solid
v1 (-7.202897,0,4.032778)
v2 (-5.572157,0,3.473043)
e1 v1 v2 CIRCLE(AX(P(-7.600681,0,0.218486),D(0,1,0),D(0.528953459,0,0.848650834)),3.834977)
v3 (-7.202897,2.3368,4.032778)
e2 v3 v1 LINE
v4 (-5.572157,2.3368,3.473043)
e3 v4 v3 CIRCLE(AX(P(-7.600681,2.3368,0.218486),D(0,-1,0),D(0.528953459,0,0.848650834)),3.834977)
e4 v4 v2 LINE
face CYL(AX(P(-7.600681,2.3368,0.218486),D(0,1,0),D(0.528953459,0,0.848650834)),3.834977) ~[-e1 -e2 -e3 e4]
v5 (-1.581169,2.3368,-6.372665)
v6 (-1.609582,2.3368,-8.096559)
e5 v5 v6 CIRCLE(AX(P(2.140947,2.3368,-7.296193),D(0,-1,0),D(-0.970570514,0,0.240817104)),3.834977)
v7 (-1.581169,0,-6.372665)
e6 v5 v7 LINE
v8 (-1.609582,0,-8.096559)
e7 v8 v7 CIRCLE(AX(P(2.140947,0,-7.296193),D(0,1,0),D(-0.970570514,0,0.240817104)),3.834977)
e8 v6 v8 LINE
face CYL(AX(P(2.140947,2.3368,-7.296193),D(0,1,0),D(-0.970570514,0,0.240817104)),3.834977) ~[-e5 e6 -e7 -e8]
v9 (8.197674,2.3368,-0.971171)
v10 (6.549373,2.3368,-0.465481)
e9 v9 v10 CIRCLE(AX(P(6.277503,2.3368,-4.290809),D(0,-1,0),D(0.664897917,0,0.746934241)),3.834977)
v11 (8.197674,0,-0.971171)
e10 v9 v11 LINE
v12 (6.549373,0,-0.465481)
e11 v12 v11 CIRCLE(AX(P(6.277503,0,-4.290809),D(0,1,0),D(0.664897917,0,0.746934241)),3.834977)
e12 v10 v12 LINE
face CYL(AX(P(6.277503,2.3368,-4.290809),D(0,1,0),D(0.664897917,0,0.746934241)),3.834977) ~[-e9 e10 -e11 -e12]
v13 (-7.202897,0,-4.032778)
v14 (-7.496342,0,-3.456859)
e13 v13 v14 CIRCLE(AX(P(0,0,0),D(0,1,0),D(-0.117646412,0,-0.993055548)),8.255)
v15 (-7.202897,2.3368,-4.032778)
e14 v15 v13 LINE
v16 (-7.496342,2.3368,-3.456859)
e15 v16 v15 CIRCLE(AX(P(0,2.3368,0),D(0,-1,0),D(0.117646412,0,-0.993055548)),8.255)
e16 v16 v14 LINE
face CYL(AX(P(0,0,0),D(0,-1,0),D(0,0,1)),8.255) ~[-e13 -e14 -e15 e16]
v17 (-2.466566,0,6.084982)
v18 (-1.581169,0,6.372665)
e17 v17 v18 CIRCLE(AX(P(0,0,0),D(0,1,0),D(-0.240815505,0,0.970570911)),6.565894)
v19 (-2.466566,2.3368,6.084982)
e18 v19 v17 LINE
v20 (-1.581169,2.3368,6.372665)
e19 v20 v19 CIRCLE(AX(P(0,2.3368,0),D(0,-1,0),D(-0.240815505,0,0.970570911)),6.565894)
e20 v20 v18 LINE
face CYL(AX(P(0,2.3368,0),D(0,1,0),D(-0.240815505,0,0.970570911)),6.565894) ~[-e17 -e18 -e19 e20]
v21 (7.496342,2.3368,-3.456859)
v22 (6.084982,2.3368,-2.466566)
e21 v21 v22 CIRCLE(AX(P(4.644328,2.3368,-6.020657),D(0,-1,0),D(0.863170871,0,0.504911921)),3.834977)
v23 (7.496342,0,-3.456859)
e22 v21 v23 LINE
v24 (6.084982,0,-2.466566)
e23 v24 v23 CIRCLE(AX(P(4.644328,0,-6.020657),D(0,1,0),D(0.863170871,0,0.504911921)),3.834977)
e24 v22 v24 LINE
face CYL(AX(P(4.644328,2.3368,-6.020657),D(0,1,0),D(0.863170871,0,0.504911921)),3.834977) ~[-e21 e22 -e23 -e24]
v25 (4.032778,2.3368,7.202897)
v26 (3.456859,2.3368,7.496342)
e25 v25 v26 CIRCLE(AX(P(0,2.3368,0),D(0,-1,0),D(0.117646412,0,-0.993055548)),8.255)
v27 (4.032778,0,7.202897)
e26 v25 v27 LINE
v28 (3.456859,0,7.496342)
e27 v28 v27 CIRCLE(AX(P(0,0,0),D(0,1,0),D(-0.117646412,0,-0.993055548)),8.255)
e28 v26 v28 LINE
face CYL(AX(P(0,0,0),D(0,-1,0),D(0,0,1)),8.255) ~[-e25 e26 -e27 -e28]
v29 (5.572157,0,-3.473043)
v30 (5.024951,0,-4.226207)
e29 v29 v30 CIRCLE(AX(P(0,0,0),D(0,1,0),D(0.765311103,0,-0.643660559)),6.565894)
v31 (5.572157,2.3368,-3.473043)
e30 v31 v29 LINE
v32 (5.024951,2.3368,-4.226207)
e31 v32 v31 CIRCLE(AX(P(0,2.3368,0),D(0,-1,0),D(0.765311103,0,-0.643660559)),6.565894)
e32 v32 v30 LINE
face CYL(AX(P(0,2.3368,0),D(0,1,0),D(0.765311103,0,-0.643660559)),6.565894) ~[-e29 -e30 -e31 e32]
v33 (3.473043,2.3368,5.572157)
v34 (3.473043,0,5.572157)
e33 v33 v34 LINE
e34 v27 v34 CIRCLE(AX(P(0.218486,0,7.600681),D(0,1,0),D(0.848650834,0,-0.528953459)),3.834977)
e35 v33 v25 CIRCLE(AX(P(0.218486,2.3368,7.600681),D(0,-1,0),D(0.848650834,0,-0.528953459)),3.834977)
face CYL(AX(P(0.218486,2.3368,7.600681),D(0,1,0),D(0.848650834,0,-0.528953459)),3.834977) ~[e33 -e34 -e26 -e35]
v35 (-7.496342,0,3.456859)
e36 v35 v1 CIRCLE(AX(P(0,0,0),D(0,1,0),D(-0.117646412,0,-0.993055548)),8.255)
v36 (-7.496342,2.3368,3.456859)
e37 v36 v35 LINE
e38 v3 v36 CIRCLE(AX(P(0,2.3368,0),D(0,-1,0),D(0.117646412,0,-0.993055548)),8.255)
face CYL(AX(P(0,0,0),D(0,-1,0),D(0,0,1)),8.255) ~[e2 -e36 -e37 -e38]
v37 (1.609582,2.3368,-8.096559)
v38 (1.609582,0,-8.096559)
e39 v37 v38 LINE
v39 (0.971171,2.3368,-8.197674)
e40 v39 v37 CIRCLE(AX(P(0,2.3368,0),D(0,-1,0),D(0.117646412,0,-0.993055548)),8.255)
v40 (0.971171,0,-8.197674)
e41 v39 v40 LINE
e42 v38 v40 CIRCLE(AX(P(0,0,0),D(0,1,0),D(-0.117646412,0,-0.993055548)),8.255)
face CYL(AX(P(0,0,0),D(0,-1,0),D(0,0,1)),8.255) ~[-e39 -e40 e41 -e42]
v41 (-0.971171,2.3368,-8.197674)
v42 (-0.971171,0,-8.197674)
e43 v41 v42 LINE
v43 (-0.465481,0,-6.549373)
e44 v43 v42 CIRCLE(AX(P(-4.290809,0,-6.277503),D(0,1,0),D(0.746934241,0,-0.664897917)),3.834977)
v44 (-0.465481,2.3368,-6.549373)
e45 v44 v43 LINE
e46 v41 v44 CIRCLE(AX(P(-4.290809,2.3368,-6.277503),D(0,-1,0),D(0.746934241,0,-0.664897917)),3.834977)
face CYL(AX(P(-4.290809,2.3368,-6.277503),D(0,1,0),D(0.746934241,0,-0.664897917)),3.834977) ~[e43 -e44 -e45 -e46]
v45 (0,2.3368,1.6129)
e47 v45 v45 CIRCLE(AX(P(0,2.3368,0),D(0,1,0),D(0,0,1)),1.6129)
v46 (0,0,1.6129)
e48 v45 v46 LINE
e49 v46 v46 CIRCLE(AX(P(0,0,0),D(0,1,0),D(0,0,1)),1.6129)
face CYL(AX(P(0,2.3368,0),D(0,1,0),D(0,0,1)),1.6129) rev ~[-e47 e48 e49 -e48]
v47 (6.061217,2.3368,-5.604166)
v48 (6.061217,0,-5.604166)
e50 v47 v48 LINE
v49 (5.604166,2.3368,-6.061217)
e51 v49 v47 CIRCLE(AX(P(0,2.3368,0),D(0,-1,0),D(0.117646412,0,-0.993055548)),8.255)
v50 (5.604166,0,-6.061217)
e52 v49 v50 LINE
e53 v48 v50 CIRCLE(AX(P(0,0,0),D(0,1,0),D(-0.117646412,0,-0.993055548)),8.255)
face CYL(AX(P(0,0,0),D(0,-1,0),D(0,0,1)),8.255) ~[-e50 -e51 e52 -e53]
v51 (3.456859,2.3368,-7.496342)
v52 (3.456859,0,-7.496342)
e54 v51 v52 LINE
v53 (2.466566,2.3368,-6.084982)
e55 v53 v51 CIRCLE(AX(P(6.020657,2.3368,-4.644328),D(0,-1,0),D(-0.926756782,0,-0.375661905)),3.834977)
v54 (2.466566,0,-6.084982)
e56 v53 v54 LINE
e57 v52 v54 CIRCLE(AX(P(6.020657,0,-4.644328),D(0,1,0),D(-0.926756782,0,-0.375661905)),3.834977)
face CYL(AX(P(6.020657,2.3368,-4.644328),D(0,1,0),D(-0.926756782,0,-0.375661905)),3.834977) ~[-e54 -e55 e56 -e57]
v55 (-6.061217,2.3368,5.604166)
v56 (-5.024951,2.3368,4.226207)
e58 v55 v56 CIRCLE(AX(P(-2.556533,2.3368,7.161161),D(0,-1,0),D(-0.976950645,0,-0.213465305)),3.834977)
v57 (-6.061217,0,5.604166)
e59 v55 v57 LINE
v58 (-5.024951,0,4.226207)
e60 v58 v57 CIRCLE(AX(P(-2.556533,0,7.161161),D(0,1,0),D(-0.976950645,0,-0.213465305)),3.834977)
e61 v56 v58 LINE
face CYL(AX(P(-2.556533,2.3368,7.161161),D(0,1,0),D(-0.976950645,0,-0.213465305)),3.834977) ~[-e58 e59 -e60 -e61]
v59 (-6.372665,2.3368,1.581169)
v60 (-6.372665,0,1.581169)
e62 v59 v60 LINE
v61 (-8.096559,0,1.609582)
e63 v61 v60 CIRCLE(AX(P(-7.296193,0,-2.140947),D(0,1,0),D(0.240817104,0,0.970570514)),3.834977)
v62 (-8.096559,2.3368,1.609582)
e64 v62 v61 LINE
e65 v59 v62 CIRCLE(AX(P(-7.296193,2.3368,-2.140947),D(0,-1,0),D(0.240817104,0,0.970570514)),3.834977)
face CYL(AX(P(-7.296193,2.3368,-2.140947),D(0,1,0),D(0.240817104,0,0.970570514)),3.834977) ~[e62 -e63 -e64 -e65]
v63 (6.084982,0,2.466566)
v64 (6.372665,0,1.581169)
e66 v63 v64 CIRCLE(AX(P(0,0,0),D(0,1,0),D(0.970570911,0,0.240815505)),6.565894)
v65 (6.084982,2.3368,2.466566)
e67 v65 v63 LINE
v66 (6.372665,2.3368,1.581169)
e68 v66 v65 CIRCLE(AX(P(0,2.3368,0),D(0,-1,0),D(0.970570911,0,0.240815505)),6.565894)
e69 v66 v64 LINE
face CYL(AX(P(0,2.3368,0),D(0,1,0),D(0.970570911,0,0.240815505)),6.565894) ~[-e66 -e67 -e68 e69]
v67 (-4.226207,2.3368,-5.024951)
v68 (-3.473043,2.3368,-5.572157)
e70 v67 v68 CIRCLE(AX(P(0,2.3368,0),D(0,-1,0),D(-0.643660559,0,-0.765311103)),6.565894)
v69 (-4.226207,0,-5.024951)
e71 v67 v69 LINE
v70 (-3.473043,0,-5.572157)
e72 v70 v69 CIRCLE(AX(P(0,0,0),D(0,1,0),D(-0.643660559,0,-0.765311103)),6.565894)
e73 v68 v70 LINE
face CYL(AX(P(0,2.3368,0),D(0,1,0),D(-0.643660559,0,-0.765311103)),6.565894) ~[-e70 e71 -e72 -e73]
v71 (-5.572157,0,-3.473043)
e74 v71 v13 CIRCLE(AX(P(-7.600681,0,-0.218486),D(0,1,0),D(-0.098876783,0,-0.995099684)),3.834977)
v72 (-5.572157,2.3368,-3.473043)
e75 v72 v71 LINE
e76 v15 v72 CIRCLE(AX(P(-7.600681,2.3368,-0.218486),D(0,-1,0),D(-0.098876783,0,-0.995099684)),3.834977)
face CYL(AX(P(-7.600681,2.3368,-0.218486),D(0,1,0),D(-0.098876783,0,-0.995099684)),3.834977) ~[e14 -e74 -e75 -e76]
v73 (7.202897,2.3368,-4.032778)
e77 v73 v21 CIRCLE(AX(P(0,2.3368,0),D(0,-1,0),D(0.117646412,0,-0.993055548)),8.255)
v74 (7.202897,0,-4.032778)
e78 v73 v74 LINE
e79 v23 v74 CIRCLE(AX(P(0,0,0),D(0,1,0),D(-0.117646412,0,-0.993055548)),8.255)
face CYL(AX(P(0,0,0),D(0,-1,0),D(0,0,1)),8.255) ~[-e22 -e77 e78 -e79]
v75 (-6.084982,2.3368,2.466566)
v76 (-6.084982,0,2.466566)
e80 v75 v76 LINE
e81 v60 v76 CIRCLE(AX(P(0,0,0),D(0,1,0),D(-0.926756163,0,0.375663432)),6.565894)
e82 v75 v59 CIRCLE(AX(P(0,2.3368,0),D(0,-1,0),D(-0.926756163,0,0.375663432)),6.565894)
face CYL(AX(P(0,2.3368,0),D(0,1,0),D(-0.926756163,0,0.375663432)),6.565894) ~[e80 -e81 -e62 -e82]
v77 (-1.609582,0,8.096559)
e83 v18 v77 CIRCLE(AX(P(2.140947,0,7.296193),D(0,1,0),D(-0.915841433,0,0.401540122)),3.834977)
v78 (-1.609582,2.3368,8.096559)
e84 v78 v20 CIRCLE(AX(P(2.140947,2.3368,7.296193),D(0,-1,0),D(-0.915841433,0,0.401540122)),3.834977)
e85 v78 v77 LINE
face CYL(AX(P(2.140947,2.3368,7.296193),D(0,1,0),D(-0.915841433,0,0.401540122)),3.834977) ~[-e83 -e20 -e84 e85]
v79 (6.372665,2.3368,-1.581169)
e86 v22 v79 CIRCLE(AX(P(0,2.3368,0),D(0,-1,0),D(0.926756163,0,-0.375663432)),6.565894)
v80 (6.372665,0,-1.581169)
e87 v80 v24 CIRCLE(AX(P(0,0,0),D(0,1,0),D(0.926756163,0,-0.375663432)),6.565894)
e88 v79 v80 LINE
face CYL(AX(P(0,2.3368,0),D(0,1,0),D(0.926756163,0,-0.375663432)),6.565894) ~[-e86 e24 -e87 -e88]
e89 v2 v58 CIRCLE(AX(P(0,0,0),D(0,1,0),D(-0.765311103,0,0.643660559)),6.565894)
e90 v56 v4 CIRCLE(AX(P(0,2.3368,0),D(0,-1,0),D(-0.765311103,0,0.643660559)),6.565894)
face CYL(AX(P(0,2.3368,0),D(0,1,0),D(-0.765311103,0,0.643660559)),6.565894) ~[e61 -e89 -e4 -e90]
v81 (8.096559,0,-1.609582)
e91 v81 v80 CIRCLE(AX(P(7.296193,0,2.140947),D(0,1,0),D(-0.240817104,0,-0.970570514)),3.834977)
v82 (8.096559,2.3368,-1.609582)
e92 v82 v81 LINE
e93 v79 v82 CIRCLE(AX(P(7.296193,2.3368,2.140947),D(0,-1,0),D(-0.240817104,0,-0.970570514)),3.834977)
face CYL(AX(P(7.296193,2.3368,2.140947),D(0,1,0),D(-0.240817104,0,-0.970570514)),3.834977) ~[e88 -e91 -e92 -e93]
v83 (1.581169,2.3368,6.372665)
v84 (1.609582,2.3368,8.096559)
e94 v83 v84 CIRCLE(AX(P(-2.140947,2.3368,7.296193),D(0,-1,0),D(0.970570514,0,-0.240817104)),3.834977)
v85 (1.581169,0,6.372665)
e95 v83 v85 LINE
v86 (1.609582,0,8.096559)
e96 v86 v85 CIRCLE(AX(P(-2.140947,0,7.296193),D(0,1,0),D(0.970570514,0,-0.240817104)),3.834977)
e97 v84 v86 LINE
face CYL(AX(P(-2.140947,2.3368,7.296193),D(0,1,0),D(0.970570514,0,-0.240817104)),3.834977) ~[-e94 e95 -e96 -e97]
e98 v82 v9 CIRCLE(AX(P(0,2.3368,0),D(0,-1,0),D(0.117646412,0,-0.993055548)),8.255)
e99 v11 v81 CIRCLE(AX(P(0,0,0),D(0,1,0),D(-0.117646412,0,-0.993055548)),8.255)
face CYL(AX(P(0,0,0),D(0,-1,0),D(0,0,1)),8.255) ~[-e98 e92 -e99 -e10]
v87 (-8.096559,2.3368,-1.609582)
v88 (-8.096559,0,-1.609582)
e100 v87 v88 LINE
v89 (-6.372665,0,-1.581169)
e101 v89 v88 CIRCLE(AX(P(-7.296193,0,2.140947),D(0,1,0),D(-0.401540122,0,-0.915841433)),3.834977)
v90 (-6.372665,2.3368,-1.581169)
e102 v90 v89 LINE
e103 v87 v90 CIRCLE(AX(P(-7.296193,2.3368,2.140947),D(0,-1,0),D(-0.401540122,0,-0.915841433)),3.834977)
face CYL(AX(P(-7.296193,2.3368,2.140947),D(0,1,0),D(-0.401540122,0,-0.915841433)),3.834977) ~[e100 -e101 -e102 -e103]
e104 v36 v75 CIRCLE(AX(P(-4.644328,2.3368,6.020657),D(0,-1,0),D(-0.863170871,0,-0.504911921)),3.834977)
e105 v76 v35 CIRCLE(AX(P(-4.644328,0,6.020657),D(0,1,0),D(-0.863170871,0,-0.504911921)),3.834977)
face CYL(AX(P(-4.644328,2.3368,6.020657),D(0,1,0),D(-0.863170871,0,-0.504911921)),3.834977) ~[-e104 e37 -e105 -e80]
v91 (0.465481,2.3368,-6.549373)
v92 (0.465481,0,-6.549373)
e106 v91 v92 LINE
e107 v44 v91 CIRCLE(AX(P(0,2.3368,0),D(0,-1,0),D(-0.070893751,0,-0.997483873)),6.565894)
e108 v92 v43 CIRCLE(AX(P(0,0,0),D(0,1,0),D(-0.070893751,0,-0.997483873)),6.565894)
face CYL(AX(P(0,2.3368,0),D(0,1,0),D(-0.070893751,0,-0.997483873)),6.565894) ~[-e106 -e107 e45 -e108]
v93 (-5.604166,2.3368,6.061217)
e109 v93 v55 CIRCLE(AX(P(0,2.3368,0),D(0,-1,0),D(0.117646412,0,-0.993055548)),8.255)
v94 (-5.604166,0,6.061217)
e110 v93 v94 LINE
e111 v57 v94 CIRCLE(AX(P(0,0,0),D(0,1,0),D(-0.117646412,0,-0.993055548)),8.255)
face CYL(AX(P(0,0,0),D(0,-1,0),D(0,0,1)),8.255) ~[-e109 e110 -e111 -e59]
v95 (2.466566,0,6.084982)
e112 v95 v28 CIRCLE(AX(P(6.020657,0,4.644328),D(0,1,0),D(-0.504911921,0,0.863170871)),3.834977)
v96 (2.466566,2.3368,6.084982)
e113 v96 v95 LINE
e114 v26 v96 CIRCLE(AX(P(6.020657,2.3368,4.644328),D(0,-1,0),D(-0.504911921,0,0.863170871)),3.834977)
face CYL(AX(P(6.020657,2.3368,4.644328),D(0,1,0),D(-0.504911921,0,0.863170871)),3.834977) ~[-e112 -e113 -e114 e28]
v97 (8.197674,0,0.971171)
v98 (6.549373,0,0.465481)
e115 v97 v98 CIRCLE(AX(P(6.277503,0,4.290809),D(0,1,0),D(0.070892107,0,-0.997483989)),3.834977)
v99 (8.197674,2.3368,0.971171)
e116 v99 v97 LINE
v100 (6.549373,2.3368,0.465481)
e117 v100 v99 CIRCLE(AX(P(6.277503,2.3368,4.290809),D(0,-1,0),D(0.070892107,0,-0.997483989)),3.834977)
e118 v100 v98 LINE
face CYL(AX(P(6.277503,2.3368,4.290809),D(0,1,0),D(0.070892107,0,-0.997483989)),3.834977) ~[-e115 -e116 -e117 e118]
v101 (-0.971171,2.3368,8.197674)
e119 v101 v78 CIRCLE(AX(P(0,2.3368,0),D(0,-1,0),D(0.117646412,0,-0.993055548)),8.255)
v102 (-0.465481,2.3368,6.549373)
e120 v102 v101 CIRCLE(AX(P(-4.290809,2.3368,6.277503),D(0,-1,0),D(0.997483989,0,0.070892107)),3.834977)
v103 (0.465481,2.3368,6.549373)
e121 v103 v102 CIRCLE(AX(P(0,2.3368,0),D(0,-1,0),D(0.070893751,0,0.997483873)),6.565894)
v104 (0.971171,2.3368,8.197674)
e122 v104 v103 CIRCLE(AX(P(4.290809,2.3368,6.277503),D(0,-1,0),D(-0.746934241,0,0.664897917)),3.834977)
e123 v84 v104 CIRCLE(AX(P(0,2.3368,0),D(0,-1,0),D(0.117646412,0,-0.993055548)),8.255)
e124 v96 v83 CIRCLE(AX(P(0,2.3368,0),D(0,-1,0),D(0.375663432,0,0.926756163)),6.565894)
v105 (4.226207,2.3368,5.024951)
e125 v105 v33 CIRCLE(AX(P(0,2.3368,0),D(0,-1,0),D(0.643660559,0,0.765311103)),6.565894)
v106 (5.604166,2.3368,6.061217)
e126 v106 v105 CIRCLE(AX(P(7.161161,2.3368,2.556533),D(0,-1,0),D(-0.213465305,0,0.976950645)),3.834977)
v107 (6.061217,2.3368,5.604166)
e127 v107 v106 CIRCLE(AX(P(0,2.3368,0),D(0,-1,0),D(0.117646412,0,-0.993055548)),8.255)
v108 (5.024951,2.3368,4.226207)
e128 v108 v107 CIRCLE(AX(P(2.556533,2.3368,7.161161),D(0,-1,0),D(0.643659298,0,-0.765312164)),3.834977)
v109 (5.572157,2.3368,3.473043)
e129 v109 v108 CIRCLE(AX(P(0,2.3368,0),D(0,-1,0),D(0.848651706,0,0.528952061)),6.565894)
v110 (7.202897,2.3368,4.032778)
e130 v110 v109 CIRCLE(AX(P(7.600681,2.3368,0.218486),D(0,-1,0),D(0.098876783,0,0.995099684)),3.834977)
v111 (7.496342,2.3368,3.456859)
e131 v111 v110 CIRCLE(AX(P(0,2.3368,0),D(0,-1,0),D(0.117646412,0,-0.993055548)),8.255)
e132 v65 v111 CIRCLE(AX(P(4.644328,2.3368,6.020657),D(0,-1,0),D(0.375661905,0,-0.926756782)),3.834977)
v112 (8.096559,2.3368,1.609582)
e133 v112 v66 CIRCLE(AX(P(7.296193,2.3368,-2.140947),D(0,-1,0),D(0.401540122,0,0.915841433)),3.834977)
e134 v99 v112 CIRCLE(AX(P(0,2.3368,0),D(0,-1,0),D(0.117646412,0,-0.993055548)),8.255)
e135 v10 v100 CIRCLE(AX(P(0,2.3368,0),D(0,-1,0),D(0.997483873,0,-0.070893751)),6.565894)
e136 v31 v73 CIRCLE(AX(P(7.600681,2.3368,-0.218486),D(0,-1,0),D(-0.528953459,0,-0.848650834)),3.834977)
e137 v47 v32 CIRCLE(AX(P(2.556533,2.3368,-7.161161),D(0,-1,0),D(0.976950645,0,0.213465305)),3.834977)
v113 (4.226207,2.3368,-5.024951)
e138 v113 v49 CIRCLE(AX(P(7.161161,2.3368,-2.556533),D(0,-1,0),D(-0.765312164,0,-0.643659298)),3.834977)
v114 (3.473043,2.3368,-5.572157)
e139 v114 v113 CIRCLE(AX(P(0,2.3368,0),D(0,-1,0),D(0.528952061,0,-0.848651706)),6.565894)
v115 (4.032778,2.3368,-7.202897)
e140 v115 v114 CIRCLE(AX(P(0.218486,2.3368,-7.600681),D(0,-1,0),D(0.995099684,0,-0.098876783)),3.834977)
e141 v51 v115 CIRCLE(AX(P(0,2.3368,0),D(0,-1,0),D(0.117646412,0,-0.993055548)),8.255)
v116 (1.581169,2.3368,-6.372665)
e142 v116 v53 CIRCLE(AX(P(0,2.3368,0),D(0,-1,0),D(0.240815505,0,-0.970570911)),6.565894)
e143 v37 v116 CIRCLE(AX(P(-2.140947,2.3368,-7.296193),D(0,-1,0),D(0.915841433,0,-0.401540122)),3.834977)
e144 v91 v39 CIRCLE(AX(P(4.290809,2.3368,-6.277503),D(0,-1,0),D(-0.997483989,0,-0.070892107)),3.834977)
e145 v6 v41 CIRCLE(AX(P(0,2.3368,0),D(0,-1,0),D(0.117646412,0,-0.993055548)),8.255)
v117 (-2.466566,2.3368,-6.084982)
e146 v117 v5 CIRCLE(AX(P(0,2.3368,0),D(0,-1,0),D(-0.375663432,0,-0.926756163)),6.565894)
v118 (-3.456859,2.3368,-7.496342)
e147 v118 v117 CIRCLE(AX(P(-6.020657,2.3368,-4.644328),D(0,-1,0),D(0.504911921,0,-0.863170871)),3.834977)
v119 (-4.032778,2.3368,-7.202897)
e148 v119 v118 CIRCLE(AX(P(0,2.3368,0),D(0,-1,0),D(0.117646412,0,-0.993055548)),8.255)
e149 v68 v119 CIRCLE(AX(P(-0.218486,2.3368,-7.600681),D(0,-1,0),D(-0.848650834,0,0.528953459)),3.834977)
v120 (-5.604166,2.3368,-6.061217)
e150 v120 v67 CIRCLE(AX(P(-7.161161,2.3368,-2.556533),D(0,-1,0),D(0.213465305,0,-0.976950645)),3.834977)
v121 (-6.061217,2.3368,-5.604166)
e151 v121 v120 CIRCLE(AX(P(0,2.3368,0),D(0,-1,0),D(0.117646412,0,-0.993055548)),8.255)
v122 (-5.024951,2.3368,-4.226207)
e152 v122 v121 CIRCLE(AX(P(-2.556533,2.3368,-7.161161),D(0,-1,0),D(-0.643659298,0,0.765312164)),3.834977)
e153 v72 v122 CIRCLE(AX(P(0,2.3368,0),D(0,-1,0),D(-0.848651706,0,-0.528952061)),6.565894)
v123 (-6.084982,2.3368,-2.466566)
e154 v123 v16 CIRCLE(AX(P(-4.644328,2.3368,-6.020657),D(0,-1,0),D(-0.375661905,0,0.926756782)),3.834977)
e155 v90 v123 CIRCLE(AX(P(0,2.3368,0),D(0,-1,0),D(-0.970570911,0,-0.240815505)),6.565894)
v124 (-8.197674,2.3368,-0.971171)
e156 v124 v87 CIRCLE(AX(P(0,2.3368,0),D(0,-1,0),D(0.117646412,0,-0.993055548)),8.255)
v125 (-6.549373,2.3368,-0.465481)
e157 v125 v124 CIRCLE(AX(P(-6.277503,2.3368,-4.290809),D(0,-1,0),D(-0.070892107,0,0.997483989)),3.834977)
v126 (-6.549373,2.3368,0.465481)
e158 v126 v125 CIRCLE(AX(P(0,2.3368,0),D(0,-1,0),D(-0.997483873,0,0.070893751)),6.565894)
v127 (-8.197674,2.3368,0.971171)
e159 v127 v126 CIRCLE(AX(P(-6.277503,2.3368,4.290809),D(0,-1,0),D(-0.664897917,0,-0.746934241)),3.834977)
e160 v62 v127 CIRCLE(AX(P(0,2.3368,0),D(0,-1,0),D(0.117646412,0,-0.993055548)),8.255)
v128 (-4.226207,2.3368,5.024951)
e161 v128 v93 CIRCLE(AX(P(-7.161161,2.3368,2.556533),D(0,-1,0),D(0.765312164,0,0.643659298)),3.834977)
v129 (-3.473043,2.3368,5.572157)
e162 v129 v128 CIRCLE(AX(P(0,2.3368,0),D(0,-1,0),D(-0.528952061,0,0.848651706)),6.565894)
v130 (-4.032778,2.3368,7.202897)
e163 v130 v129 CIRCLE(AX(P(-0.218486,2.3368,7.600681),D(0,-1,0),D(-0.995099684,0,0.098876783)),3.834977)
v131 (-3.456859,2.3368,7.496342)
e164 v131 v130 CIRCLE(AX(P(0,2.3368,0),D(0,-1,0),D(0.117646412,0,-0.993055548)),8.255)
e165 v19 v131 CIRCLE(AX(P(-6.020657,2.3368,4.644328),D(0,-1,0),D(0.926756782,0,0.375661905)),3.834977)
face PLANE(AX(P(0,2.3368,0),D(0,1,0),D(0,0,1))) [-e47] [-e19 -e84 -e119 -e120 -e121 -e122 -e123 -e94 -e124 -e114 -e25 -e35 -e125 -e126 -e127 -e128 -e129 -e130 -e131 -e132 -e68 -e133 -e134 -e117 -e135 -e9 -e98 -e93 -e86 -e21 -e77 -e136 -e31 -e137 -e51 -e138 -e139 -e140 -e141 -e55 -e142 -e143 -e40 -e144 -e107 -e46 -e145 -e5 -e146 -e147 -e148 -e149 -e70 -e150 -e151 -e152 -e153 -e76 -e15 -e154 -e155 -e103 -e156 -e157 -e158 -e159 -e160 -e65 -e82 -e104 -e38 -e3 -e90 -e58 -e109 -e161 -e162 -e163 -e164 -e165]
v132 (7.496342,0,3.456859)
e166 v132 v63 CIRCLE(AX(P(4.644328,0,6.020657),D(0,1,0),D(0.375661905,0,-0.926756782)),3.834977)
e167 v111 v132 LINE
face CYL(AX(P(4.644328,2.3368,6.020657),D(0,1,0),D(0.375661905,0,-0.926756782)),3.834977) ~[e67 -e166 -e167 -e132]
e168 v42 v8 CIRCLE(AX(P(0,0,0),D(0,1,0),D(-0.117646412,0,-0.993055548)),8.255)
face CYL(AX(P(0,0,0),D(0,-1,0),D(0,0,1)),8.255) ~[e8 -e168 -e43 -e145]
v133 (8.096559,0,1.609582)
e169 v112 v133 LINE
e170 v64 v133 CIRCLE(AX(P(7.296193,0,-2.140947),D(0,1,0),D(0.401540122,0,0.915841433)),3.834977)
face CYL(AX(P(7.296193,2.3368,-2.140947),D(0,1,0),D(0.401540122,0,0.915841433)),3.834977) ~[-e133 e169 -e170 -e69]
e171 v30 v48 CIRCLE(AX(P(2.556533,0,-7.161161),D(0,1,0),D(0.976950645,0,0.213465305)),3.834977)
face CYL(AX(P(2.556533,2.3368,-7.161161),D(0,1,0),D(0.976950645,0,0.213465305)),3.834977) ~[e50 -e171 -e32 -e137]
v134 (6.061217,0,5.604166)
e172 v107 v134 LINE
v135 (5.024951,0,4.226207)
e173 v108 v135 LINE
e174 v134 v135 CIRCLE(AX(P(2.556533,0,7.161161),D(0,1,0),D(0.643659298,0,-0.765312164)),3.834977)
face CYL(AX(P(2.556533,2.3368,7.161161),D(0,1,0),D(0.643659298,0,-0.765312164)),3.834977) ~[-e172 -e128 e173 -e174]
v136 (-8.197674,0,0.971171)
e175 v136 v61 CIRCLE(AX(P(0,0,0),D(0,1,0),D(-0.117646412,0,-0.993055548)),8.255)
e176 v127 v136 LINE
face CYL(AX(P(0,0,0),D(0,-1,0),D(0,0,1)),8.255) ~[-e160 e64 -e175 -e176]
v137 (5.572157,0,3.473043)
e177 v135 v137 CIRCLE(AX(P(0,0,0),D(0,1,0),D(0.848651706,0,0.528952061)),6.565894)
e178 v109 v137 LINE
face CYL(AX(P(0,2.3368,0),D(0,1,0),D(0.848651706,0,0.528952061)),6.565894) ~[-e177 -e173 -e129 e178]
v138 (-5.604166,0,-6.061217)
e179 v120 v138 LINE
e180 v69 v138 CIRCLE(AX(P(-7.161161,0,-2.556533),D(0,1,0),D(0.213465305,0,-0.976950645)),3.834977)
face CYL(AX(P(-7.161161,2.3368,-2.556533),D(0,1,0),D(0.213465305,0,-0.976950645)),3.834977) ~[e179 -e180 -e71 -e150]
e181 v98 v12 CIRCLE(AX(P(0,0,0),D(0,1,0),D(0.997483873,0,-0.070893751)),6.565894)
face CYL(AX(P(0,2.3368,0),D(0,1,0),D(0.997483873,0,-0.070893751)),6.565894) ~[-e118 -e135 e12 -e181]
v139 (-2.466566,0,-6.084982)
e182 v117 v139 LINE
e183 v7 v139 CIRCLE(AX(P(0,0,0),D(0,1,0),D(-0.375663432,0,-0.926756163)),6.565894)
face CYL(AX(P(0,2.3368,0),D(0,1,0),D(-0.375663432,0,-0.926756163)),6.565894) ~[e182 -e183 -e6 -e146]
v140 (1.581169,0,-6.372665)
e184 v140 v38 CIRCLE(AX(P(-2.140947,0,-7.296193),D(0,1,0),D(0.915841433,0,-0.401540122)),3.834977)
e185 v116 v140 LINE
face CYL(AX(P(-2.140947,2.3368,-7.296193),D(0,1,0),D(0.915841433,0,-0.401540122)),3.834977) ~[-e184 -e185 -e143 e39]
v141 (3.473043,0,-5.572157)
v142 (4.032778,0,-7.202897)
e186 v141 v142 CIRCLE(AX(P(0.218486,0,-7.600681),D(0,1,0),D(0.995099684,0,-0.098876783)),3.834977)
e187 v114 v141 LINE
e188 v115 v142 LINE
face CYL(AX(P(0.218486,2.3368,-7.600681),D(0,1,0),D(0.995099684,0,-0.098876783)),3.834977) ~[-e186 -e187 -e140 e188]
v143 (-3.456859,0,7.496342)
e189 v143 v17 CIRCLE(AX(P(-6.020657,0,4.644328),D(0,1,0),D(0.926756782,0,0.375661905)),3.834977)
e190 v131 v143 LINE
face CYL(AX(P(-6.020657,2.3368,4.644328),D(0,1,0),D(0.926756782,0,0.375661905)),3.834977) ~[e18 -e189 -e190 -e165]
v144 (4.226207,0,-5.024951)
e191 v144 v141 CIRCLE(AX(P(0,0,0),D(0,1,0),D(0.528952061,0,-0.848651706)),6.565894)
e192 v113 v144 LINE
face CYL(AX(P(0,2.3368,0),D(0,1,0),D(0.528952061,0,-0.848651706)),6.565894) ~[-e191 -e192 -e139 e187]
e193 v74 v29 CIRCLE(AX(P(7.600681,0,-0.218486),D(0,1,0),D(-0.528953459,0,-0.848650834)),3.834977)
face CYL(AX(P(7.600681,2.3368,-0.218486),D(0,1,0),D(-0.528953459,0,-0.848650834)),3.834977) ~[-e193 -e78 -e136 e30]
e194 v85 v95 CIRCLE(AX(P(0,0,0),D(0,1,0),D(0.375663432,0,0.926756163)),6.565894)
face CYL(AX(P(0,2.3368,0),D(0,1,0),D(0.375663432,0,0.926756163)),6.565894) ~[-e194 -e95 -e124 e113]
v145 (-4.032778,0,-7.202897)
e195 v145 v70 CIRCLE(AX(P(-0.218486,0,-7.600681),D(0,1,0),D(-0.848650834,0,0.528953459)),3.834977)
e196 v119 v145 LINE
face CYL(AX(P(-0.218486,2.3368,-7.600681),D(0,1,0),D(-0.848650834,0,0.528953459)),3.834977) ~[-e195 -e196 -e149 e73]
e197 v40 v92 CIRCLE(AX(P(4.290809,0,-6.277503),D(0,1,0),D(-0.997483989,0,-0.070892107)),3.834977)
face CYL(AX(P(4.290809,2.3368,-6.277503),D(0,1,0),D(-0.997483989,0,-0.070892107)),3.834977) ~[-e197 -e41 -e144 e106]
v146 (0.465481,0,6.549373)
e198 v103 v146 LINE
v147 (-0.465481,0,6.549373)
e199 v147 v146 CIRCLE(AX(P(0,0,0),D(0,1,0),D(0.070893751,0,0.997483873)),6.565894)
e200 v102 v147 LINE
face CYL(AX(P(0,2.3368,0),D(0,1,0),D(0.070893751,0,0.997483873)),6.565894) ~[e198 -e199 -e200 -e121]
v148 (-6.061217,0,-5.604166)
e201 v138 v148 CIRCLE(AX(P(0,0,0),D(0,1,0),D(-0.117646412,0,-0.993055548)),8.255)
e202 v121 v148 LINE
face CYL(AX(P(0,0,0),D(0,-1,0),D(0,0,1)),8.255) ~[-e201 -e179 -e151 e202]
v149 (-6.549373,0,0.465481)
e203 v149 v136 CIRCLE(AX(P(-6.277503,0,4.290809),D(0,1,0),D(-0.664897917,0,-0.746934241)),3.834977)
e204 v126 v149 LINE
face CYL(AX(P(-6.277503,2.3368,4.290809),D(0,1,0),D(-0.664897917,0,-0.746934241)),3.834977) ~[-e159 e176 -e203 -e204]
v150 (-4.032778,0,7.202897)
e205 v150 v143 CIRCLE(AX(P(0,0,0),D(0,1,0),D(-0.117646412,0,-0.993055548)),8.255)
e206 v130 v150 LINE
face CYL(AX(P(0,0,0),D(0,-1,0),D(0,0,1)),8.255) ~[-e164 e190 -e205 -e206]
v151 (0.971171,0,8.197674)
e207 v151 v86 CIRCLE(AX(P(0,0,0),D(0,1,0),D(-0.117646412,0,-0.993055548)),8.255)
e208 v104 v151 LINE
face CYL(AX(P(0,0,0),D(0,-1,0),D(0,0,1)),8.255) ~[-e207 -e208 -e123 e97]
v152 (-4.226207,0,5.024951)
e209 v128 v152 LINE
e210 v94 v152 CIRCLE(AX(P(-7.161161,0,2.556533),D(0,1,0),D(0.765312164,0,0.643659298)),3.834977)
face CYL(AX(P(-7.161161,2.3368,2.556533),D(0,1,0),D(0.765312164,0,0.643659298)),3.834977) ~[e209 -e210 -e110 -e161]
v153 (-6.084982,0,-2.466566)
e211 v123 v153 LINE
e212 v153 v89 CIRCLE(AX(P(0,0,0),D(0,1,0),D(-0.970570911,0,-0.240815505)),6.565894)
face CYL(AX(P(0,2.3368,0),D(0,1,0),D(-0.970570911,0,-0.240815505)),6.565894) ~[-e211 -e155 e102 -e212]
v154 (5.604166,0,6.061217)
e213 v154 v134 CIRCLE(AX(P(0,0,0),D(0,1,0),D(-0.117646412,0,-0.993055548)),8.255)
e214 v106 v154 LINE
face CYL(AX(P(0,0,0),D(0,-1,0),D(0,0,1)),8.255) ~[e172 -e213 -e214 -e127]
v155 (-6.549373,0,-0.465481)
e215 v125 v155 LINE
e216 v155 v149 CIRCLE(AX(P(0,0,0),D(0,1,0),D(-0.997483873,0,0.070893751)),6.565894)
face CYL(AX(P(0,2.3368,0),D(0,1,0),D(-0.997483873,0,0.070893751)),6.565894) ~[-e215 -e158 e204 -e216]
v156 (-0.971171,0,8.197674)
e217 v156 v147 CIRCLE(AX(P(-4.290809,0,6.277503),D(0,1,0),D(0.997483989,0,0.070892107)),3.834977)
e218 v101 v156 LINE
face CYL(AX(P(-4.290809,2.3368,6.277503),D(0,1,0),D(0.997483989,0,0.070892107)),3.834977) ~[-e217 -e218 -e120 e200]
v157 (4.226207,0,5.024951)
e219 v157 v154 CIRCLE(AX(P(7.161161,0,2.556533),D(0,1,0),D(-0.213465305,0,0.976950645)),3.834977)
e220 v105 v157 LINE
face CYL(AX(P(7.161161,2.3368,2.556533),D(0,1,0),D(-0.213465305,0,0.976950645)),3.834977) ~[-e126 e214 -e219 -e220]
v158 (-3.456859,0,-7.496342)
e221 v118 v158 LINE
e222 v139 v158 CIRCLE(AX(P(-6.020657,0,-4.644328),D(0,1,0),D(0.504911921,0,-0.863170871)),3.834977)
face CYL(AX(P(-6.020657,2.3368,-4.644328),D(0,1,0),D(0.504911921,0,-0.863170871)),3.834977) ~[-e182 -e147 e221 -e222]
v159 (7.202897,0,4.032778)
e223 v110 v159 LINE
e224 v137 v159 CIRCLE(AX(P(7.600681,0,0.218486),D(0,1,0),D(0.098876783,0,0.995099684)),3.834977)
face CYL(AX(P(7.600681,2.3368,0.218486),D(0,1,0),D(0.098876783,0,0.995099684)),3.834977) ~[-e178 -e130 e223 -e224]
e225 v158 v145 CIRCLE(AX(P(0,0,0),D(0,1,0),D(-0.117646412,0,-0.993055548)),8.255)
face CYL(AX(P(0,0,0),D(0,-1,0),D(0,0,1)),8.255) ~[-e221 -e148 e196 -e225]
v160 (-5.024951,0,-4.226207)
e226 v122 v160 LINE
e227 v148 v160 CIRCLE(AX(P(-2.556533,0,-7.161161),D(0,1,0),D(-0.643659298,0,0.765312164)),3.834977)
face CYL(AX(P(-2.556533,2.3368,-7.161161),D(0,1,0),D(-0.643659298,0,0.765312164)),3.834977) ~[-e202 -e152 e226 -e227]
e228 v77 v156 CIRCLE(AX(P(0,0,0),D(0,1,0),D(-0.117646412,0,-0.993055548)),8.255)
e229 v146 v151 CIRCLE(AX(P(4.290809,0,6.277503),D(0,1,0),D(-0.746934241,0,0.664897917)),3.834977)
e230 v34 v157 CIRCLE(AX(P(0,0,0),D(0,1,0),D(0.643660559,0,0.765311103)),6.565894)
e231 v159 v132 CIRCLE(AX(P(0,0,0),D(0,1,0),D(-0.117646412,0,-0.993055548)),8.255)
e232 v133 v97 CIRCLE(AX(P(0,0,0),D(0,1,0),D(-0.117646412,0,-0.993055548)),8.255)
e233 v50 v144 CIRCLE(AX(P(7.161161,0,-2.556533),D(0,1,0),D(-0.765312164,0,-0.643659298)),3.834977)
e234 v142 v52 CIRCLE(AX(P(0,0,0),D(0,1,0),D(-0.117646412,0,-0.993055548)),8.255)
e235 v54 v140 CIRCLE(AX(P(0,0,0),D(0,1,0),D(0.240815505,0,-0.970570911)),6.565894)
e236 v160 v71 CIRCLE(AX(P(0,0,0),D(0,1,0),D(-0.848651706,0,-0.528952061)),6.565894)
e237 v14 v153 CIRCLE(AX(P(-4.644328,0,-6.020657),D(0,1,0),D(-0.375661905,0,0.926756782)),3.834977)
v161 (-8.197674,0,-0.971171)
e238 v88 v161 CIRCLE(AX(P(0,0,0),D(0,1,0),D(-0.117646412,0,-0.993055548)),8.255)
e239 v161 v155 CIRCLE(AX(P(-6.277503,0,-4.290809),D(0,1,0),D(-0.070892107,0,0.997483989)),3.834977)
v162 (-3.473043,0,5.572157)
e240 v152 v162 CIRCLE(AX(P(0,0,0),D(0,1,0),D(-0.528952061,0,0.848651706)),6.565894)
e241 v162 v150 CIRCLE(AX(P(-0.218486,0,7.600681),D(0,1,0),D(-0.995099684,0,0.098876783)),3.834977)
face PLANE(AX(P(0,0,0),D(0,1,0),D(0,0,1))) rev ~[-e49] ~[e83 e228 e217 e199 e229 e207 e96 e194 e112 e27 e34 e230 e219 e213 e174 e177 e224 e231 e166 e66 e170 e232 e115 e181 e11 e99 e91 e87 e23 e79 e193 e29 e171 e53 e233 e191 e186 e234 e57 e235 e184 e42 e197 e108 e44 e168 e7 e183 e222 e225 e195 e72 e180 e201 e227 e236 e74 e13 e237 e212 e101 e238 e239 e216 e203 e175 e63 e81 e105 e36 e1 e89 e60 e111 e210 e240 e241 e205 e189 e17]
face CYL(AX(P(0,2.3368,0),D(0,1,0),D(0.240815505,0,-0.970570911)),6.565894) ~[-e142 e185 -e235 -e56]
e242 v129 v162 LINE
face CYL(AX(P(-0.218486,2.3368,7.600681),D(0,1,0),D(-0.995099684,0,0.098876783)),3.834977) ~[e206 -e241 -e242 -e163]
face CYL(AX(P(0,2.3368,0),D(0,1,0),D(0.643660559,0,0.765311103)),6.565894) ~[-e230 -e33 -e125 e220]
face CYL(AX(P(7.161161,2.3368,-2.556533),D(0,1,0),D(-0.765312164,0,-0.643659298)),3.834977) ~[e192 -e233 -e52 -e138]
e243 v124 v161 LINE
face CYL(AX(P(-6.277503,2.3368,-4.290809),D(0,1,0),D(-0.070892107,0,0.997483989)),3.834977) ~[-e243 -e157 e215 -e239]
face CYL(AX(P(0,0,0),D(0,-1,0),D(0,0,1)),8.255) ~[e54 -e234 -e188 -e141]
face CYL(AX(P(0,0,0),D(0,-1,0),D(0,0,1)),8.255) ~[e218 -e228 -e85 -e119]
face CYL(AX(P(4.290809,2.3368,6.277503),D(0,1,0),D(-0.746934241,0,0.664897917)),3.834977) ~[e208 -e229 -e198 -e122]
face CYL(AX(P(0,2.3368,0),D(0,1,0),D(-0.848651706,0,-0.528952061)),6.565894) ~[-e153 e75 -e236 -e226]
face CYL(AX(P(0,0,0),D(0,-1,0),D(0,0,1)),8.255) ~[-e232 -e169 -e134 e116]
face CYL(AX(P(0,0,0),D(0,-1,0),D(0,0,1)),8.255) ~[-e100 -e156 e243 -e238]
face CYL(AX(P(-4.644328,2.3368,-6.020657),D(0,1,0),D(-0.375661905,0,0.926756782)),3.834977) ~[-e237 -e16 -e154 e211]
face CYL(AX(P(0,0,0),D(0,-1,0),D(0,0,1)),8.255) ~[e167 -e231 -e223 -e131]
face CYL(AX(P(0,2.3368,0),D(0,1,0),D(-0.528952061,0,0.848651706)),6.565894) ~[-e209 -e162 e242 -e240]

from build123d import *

# Parameters (mm, degrees)
SKETCH1_R           = 8.255
BOSS_EXTRUDE1_DEPTH = 2.3368
SKETCH2_R           = 1.6129
CUT_EXTRUDE1_DEPTH  = 12.905909635
CUT_EXTRUDE6_DEPTH  = 12.905909635
CIRPATTERN1_COUNT   = 20


with BuildPart() as part:
    # Sketch1 → Boss-Extrude1 (new body)
    with BuildSketch(Plane(origin=(0, 0, 0), x_dir=(1, 0, 0), z_dir=(0, 1, 0))):
        with Locations(Location((0, 0, 0), (0, 0, 270))):
            Circle(SKETCH1_R)
    extrude(amount=BOSS_EXTRUDE1_DEPTH)

    # Sketch2 → Cut-Extrude1 (cut, through all)
    with BuildSketch(Plane(origin=(0, 2.3368, 0), x_dir=(1, 0, 0), z_dir=(0, 1, 0))):
        with Locations(Location((0, 0, 0), (0, 0, 270))):
            Circle(SKETCH2_R)
    extrude(amount=-CUT_EXTRUDE1_DEPTH, mode=Mode.SUBTRACT)

    # Sketch3 → Cut-Extrude6 (cut, through all)
    with BuildSketch(Plane(origin=(0, 2.3368, 0), x_dir=(1, 0, 0), z_dir=(0, 1, 0))):
        with BuildLine():
            Line((1.426333388, 8.827371755), (-1.426333388, 8.827371755))
            ThreePointArc((-1.426333388, 8.827371755), (-0.757299678, 7.767926416), (-0.465480831, 6.549373056))
            ThreePointArc((-0.465480831, 6.549373056), (0, 6.565893681), (0.465480831, 6.549373056))
            ThreePointArc((0.465480831, 6.549373056), (0.757299678, 7.767926416), (1.426333388, 8.827371755))
        make_face()
    cut_extrude6 = extrude(amount=-CUT_EXTRUDE6_DEPTH, mode=Mode.SUBTRACT)

    # CirPattern1: Cut-Extrude6 ×20 about axis
    cirpattern1_axis = Axis((0, 0, 0), (0, 1, 0))
    for i in range(1, CIRPATTERN1_COUNT):
        add(cut_extrude6.rotate(cirpattern1_axis, i * 360 / CIRPATTERN1_COUNT), mode=Mode.SUBTRACT)


solid = part.part
